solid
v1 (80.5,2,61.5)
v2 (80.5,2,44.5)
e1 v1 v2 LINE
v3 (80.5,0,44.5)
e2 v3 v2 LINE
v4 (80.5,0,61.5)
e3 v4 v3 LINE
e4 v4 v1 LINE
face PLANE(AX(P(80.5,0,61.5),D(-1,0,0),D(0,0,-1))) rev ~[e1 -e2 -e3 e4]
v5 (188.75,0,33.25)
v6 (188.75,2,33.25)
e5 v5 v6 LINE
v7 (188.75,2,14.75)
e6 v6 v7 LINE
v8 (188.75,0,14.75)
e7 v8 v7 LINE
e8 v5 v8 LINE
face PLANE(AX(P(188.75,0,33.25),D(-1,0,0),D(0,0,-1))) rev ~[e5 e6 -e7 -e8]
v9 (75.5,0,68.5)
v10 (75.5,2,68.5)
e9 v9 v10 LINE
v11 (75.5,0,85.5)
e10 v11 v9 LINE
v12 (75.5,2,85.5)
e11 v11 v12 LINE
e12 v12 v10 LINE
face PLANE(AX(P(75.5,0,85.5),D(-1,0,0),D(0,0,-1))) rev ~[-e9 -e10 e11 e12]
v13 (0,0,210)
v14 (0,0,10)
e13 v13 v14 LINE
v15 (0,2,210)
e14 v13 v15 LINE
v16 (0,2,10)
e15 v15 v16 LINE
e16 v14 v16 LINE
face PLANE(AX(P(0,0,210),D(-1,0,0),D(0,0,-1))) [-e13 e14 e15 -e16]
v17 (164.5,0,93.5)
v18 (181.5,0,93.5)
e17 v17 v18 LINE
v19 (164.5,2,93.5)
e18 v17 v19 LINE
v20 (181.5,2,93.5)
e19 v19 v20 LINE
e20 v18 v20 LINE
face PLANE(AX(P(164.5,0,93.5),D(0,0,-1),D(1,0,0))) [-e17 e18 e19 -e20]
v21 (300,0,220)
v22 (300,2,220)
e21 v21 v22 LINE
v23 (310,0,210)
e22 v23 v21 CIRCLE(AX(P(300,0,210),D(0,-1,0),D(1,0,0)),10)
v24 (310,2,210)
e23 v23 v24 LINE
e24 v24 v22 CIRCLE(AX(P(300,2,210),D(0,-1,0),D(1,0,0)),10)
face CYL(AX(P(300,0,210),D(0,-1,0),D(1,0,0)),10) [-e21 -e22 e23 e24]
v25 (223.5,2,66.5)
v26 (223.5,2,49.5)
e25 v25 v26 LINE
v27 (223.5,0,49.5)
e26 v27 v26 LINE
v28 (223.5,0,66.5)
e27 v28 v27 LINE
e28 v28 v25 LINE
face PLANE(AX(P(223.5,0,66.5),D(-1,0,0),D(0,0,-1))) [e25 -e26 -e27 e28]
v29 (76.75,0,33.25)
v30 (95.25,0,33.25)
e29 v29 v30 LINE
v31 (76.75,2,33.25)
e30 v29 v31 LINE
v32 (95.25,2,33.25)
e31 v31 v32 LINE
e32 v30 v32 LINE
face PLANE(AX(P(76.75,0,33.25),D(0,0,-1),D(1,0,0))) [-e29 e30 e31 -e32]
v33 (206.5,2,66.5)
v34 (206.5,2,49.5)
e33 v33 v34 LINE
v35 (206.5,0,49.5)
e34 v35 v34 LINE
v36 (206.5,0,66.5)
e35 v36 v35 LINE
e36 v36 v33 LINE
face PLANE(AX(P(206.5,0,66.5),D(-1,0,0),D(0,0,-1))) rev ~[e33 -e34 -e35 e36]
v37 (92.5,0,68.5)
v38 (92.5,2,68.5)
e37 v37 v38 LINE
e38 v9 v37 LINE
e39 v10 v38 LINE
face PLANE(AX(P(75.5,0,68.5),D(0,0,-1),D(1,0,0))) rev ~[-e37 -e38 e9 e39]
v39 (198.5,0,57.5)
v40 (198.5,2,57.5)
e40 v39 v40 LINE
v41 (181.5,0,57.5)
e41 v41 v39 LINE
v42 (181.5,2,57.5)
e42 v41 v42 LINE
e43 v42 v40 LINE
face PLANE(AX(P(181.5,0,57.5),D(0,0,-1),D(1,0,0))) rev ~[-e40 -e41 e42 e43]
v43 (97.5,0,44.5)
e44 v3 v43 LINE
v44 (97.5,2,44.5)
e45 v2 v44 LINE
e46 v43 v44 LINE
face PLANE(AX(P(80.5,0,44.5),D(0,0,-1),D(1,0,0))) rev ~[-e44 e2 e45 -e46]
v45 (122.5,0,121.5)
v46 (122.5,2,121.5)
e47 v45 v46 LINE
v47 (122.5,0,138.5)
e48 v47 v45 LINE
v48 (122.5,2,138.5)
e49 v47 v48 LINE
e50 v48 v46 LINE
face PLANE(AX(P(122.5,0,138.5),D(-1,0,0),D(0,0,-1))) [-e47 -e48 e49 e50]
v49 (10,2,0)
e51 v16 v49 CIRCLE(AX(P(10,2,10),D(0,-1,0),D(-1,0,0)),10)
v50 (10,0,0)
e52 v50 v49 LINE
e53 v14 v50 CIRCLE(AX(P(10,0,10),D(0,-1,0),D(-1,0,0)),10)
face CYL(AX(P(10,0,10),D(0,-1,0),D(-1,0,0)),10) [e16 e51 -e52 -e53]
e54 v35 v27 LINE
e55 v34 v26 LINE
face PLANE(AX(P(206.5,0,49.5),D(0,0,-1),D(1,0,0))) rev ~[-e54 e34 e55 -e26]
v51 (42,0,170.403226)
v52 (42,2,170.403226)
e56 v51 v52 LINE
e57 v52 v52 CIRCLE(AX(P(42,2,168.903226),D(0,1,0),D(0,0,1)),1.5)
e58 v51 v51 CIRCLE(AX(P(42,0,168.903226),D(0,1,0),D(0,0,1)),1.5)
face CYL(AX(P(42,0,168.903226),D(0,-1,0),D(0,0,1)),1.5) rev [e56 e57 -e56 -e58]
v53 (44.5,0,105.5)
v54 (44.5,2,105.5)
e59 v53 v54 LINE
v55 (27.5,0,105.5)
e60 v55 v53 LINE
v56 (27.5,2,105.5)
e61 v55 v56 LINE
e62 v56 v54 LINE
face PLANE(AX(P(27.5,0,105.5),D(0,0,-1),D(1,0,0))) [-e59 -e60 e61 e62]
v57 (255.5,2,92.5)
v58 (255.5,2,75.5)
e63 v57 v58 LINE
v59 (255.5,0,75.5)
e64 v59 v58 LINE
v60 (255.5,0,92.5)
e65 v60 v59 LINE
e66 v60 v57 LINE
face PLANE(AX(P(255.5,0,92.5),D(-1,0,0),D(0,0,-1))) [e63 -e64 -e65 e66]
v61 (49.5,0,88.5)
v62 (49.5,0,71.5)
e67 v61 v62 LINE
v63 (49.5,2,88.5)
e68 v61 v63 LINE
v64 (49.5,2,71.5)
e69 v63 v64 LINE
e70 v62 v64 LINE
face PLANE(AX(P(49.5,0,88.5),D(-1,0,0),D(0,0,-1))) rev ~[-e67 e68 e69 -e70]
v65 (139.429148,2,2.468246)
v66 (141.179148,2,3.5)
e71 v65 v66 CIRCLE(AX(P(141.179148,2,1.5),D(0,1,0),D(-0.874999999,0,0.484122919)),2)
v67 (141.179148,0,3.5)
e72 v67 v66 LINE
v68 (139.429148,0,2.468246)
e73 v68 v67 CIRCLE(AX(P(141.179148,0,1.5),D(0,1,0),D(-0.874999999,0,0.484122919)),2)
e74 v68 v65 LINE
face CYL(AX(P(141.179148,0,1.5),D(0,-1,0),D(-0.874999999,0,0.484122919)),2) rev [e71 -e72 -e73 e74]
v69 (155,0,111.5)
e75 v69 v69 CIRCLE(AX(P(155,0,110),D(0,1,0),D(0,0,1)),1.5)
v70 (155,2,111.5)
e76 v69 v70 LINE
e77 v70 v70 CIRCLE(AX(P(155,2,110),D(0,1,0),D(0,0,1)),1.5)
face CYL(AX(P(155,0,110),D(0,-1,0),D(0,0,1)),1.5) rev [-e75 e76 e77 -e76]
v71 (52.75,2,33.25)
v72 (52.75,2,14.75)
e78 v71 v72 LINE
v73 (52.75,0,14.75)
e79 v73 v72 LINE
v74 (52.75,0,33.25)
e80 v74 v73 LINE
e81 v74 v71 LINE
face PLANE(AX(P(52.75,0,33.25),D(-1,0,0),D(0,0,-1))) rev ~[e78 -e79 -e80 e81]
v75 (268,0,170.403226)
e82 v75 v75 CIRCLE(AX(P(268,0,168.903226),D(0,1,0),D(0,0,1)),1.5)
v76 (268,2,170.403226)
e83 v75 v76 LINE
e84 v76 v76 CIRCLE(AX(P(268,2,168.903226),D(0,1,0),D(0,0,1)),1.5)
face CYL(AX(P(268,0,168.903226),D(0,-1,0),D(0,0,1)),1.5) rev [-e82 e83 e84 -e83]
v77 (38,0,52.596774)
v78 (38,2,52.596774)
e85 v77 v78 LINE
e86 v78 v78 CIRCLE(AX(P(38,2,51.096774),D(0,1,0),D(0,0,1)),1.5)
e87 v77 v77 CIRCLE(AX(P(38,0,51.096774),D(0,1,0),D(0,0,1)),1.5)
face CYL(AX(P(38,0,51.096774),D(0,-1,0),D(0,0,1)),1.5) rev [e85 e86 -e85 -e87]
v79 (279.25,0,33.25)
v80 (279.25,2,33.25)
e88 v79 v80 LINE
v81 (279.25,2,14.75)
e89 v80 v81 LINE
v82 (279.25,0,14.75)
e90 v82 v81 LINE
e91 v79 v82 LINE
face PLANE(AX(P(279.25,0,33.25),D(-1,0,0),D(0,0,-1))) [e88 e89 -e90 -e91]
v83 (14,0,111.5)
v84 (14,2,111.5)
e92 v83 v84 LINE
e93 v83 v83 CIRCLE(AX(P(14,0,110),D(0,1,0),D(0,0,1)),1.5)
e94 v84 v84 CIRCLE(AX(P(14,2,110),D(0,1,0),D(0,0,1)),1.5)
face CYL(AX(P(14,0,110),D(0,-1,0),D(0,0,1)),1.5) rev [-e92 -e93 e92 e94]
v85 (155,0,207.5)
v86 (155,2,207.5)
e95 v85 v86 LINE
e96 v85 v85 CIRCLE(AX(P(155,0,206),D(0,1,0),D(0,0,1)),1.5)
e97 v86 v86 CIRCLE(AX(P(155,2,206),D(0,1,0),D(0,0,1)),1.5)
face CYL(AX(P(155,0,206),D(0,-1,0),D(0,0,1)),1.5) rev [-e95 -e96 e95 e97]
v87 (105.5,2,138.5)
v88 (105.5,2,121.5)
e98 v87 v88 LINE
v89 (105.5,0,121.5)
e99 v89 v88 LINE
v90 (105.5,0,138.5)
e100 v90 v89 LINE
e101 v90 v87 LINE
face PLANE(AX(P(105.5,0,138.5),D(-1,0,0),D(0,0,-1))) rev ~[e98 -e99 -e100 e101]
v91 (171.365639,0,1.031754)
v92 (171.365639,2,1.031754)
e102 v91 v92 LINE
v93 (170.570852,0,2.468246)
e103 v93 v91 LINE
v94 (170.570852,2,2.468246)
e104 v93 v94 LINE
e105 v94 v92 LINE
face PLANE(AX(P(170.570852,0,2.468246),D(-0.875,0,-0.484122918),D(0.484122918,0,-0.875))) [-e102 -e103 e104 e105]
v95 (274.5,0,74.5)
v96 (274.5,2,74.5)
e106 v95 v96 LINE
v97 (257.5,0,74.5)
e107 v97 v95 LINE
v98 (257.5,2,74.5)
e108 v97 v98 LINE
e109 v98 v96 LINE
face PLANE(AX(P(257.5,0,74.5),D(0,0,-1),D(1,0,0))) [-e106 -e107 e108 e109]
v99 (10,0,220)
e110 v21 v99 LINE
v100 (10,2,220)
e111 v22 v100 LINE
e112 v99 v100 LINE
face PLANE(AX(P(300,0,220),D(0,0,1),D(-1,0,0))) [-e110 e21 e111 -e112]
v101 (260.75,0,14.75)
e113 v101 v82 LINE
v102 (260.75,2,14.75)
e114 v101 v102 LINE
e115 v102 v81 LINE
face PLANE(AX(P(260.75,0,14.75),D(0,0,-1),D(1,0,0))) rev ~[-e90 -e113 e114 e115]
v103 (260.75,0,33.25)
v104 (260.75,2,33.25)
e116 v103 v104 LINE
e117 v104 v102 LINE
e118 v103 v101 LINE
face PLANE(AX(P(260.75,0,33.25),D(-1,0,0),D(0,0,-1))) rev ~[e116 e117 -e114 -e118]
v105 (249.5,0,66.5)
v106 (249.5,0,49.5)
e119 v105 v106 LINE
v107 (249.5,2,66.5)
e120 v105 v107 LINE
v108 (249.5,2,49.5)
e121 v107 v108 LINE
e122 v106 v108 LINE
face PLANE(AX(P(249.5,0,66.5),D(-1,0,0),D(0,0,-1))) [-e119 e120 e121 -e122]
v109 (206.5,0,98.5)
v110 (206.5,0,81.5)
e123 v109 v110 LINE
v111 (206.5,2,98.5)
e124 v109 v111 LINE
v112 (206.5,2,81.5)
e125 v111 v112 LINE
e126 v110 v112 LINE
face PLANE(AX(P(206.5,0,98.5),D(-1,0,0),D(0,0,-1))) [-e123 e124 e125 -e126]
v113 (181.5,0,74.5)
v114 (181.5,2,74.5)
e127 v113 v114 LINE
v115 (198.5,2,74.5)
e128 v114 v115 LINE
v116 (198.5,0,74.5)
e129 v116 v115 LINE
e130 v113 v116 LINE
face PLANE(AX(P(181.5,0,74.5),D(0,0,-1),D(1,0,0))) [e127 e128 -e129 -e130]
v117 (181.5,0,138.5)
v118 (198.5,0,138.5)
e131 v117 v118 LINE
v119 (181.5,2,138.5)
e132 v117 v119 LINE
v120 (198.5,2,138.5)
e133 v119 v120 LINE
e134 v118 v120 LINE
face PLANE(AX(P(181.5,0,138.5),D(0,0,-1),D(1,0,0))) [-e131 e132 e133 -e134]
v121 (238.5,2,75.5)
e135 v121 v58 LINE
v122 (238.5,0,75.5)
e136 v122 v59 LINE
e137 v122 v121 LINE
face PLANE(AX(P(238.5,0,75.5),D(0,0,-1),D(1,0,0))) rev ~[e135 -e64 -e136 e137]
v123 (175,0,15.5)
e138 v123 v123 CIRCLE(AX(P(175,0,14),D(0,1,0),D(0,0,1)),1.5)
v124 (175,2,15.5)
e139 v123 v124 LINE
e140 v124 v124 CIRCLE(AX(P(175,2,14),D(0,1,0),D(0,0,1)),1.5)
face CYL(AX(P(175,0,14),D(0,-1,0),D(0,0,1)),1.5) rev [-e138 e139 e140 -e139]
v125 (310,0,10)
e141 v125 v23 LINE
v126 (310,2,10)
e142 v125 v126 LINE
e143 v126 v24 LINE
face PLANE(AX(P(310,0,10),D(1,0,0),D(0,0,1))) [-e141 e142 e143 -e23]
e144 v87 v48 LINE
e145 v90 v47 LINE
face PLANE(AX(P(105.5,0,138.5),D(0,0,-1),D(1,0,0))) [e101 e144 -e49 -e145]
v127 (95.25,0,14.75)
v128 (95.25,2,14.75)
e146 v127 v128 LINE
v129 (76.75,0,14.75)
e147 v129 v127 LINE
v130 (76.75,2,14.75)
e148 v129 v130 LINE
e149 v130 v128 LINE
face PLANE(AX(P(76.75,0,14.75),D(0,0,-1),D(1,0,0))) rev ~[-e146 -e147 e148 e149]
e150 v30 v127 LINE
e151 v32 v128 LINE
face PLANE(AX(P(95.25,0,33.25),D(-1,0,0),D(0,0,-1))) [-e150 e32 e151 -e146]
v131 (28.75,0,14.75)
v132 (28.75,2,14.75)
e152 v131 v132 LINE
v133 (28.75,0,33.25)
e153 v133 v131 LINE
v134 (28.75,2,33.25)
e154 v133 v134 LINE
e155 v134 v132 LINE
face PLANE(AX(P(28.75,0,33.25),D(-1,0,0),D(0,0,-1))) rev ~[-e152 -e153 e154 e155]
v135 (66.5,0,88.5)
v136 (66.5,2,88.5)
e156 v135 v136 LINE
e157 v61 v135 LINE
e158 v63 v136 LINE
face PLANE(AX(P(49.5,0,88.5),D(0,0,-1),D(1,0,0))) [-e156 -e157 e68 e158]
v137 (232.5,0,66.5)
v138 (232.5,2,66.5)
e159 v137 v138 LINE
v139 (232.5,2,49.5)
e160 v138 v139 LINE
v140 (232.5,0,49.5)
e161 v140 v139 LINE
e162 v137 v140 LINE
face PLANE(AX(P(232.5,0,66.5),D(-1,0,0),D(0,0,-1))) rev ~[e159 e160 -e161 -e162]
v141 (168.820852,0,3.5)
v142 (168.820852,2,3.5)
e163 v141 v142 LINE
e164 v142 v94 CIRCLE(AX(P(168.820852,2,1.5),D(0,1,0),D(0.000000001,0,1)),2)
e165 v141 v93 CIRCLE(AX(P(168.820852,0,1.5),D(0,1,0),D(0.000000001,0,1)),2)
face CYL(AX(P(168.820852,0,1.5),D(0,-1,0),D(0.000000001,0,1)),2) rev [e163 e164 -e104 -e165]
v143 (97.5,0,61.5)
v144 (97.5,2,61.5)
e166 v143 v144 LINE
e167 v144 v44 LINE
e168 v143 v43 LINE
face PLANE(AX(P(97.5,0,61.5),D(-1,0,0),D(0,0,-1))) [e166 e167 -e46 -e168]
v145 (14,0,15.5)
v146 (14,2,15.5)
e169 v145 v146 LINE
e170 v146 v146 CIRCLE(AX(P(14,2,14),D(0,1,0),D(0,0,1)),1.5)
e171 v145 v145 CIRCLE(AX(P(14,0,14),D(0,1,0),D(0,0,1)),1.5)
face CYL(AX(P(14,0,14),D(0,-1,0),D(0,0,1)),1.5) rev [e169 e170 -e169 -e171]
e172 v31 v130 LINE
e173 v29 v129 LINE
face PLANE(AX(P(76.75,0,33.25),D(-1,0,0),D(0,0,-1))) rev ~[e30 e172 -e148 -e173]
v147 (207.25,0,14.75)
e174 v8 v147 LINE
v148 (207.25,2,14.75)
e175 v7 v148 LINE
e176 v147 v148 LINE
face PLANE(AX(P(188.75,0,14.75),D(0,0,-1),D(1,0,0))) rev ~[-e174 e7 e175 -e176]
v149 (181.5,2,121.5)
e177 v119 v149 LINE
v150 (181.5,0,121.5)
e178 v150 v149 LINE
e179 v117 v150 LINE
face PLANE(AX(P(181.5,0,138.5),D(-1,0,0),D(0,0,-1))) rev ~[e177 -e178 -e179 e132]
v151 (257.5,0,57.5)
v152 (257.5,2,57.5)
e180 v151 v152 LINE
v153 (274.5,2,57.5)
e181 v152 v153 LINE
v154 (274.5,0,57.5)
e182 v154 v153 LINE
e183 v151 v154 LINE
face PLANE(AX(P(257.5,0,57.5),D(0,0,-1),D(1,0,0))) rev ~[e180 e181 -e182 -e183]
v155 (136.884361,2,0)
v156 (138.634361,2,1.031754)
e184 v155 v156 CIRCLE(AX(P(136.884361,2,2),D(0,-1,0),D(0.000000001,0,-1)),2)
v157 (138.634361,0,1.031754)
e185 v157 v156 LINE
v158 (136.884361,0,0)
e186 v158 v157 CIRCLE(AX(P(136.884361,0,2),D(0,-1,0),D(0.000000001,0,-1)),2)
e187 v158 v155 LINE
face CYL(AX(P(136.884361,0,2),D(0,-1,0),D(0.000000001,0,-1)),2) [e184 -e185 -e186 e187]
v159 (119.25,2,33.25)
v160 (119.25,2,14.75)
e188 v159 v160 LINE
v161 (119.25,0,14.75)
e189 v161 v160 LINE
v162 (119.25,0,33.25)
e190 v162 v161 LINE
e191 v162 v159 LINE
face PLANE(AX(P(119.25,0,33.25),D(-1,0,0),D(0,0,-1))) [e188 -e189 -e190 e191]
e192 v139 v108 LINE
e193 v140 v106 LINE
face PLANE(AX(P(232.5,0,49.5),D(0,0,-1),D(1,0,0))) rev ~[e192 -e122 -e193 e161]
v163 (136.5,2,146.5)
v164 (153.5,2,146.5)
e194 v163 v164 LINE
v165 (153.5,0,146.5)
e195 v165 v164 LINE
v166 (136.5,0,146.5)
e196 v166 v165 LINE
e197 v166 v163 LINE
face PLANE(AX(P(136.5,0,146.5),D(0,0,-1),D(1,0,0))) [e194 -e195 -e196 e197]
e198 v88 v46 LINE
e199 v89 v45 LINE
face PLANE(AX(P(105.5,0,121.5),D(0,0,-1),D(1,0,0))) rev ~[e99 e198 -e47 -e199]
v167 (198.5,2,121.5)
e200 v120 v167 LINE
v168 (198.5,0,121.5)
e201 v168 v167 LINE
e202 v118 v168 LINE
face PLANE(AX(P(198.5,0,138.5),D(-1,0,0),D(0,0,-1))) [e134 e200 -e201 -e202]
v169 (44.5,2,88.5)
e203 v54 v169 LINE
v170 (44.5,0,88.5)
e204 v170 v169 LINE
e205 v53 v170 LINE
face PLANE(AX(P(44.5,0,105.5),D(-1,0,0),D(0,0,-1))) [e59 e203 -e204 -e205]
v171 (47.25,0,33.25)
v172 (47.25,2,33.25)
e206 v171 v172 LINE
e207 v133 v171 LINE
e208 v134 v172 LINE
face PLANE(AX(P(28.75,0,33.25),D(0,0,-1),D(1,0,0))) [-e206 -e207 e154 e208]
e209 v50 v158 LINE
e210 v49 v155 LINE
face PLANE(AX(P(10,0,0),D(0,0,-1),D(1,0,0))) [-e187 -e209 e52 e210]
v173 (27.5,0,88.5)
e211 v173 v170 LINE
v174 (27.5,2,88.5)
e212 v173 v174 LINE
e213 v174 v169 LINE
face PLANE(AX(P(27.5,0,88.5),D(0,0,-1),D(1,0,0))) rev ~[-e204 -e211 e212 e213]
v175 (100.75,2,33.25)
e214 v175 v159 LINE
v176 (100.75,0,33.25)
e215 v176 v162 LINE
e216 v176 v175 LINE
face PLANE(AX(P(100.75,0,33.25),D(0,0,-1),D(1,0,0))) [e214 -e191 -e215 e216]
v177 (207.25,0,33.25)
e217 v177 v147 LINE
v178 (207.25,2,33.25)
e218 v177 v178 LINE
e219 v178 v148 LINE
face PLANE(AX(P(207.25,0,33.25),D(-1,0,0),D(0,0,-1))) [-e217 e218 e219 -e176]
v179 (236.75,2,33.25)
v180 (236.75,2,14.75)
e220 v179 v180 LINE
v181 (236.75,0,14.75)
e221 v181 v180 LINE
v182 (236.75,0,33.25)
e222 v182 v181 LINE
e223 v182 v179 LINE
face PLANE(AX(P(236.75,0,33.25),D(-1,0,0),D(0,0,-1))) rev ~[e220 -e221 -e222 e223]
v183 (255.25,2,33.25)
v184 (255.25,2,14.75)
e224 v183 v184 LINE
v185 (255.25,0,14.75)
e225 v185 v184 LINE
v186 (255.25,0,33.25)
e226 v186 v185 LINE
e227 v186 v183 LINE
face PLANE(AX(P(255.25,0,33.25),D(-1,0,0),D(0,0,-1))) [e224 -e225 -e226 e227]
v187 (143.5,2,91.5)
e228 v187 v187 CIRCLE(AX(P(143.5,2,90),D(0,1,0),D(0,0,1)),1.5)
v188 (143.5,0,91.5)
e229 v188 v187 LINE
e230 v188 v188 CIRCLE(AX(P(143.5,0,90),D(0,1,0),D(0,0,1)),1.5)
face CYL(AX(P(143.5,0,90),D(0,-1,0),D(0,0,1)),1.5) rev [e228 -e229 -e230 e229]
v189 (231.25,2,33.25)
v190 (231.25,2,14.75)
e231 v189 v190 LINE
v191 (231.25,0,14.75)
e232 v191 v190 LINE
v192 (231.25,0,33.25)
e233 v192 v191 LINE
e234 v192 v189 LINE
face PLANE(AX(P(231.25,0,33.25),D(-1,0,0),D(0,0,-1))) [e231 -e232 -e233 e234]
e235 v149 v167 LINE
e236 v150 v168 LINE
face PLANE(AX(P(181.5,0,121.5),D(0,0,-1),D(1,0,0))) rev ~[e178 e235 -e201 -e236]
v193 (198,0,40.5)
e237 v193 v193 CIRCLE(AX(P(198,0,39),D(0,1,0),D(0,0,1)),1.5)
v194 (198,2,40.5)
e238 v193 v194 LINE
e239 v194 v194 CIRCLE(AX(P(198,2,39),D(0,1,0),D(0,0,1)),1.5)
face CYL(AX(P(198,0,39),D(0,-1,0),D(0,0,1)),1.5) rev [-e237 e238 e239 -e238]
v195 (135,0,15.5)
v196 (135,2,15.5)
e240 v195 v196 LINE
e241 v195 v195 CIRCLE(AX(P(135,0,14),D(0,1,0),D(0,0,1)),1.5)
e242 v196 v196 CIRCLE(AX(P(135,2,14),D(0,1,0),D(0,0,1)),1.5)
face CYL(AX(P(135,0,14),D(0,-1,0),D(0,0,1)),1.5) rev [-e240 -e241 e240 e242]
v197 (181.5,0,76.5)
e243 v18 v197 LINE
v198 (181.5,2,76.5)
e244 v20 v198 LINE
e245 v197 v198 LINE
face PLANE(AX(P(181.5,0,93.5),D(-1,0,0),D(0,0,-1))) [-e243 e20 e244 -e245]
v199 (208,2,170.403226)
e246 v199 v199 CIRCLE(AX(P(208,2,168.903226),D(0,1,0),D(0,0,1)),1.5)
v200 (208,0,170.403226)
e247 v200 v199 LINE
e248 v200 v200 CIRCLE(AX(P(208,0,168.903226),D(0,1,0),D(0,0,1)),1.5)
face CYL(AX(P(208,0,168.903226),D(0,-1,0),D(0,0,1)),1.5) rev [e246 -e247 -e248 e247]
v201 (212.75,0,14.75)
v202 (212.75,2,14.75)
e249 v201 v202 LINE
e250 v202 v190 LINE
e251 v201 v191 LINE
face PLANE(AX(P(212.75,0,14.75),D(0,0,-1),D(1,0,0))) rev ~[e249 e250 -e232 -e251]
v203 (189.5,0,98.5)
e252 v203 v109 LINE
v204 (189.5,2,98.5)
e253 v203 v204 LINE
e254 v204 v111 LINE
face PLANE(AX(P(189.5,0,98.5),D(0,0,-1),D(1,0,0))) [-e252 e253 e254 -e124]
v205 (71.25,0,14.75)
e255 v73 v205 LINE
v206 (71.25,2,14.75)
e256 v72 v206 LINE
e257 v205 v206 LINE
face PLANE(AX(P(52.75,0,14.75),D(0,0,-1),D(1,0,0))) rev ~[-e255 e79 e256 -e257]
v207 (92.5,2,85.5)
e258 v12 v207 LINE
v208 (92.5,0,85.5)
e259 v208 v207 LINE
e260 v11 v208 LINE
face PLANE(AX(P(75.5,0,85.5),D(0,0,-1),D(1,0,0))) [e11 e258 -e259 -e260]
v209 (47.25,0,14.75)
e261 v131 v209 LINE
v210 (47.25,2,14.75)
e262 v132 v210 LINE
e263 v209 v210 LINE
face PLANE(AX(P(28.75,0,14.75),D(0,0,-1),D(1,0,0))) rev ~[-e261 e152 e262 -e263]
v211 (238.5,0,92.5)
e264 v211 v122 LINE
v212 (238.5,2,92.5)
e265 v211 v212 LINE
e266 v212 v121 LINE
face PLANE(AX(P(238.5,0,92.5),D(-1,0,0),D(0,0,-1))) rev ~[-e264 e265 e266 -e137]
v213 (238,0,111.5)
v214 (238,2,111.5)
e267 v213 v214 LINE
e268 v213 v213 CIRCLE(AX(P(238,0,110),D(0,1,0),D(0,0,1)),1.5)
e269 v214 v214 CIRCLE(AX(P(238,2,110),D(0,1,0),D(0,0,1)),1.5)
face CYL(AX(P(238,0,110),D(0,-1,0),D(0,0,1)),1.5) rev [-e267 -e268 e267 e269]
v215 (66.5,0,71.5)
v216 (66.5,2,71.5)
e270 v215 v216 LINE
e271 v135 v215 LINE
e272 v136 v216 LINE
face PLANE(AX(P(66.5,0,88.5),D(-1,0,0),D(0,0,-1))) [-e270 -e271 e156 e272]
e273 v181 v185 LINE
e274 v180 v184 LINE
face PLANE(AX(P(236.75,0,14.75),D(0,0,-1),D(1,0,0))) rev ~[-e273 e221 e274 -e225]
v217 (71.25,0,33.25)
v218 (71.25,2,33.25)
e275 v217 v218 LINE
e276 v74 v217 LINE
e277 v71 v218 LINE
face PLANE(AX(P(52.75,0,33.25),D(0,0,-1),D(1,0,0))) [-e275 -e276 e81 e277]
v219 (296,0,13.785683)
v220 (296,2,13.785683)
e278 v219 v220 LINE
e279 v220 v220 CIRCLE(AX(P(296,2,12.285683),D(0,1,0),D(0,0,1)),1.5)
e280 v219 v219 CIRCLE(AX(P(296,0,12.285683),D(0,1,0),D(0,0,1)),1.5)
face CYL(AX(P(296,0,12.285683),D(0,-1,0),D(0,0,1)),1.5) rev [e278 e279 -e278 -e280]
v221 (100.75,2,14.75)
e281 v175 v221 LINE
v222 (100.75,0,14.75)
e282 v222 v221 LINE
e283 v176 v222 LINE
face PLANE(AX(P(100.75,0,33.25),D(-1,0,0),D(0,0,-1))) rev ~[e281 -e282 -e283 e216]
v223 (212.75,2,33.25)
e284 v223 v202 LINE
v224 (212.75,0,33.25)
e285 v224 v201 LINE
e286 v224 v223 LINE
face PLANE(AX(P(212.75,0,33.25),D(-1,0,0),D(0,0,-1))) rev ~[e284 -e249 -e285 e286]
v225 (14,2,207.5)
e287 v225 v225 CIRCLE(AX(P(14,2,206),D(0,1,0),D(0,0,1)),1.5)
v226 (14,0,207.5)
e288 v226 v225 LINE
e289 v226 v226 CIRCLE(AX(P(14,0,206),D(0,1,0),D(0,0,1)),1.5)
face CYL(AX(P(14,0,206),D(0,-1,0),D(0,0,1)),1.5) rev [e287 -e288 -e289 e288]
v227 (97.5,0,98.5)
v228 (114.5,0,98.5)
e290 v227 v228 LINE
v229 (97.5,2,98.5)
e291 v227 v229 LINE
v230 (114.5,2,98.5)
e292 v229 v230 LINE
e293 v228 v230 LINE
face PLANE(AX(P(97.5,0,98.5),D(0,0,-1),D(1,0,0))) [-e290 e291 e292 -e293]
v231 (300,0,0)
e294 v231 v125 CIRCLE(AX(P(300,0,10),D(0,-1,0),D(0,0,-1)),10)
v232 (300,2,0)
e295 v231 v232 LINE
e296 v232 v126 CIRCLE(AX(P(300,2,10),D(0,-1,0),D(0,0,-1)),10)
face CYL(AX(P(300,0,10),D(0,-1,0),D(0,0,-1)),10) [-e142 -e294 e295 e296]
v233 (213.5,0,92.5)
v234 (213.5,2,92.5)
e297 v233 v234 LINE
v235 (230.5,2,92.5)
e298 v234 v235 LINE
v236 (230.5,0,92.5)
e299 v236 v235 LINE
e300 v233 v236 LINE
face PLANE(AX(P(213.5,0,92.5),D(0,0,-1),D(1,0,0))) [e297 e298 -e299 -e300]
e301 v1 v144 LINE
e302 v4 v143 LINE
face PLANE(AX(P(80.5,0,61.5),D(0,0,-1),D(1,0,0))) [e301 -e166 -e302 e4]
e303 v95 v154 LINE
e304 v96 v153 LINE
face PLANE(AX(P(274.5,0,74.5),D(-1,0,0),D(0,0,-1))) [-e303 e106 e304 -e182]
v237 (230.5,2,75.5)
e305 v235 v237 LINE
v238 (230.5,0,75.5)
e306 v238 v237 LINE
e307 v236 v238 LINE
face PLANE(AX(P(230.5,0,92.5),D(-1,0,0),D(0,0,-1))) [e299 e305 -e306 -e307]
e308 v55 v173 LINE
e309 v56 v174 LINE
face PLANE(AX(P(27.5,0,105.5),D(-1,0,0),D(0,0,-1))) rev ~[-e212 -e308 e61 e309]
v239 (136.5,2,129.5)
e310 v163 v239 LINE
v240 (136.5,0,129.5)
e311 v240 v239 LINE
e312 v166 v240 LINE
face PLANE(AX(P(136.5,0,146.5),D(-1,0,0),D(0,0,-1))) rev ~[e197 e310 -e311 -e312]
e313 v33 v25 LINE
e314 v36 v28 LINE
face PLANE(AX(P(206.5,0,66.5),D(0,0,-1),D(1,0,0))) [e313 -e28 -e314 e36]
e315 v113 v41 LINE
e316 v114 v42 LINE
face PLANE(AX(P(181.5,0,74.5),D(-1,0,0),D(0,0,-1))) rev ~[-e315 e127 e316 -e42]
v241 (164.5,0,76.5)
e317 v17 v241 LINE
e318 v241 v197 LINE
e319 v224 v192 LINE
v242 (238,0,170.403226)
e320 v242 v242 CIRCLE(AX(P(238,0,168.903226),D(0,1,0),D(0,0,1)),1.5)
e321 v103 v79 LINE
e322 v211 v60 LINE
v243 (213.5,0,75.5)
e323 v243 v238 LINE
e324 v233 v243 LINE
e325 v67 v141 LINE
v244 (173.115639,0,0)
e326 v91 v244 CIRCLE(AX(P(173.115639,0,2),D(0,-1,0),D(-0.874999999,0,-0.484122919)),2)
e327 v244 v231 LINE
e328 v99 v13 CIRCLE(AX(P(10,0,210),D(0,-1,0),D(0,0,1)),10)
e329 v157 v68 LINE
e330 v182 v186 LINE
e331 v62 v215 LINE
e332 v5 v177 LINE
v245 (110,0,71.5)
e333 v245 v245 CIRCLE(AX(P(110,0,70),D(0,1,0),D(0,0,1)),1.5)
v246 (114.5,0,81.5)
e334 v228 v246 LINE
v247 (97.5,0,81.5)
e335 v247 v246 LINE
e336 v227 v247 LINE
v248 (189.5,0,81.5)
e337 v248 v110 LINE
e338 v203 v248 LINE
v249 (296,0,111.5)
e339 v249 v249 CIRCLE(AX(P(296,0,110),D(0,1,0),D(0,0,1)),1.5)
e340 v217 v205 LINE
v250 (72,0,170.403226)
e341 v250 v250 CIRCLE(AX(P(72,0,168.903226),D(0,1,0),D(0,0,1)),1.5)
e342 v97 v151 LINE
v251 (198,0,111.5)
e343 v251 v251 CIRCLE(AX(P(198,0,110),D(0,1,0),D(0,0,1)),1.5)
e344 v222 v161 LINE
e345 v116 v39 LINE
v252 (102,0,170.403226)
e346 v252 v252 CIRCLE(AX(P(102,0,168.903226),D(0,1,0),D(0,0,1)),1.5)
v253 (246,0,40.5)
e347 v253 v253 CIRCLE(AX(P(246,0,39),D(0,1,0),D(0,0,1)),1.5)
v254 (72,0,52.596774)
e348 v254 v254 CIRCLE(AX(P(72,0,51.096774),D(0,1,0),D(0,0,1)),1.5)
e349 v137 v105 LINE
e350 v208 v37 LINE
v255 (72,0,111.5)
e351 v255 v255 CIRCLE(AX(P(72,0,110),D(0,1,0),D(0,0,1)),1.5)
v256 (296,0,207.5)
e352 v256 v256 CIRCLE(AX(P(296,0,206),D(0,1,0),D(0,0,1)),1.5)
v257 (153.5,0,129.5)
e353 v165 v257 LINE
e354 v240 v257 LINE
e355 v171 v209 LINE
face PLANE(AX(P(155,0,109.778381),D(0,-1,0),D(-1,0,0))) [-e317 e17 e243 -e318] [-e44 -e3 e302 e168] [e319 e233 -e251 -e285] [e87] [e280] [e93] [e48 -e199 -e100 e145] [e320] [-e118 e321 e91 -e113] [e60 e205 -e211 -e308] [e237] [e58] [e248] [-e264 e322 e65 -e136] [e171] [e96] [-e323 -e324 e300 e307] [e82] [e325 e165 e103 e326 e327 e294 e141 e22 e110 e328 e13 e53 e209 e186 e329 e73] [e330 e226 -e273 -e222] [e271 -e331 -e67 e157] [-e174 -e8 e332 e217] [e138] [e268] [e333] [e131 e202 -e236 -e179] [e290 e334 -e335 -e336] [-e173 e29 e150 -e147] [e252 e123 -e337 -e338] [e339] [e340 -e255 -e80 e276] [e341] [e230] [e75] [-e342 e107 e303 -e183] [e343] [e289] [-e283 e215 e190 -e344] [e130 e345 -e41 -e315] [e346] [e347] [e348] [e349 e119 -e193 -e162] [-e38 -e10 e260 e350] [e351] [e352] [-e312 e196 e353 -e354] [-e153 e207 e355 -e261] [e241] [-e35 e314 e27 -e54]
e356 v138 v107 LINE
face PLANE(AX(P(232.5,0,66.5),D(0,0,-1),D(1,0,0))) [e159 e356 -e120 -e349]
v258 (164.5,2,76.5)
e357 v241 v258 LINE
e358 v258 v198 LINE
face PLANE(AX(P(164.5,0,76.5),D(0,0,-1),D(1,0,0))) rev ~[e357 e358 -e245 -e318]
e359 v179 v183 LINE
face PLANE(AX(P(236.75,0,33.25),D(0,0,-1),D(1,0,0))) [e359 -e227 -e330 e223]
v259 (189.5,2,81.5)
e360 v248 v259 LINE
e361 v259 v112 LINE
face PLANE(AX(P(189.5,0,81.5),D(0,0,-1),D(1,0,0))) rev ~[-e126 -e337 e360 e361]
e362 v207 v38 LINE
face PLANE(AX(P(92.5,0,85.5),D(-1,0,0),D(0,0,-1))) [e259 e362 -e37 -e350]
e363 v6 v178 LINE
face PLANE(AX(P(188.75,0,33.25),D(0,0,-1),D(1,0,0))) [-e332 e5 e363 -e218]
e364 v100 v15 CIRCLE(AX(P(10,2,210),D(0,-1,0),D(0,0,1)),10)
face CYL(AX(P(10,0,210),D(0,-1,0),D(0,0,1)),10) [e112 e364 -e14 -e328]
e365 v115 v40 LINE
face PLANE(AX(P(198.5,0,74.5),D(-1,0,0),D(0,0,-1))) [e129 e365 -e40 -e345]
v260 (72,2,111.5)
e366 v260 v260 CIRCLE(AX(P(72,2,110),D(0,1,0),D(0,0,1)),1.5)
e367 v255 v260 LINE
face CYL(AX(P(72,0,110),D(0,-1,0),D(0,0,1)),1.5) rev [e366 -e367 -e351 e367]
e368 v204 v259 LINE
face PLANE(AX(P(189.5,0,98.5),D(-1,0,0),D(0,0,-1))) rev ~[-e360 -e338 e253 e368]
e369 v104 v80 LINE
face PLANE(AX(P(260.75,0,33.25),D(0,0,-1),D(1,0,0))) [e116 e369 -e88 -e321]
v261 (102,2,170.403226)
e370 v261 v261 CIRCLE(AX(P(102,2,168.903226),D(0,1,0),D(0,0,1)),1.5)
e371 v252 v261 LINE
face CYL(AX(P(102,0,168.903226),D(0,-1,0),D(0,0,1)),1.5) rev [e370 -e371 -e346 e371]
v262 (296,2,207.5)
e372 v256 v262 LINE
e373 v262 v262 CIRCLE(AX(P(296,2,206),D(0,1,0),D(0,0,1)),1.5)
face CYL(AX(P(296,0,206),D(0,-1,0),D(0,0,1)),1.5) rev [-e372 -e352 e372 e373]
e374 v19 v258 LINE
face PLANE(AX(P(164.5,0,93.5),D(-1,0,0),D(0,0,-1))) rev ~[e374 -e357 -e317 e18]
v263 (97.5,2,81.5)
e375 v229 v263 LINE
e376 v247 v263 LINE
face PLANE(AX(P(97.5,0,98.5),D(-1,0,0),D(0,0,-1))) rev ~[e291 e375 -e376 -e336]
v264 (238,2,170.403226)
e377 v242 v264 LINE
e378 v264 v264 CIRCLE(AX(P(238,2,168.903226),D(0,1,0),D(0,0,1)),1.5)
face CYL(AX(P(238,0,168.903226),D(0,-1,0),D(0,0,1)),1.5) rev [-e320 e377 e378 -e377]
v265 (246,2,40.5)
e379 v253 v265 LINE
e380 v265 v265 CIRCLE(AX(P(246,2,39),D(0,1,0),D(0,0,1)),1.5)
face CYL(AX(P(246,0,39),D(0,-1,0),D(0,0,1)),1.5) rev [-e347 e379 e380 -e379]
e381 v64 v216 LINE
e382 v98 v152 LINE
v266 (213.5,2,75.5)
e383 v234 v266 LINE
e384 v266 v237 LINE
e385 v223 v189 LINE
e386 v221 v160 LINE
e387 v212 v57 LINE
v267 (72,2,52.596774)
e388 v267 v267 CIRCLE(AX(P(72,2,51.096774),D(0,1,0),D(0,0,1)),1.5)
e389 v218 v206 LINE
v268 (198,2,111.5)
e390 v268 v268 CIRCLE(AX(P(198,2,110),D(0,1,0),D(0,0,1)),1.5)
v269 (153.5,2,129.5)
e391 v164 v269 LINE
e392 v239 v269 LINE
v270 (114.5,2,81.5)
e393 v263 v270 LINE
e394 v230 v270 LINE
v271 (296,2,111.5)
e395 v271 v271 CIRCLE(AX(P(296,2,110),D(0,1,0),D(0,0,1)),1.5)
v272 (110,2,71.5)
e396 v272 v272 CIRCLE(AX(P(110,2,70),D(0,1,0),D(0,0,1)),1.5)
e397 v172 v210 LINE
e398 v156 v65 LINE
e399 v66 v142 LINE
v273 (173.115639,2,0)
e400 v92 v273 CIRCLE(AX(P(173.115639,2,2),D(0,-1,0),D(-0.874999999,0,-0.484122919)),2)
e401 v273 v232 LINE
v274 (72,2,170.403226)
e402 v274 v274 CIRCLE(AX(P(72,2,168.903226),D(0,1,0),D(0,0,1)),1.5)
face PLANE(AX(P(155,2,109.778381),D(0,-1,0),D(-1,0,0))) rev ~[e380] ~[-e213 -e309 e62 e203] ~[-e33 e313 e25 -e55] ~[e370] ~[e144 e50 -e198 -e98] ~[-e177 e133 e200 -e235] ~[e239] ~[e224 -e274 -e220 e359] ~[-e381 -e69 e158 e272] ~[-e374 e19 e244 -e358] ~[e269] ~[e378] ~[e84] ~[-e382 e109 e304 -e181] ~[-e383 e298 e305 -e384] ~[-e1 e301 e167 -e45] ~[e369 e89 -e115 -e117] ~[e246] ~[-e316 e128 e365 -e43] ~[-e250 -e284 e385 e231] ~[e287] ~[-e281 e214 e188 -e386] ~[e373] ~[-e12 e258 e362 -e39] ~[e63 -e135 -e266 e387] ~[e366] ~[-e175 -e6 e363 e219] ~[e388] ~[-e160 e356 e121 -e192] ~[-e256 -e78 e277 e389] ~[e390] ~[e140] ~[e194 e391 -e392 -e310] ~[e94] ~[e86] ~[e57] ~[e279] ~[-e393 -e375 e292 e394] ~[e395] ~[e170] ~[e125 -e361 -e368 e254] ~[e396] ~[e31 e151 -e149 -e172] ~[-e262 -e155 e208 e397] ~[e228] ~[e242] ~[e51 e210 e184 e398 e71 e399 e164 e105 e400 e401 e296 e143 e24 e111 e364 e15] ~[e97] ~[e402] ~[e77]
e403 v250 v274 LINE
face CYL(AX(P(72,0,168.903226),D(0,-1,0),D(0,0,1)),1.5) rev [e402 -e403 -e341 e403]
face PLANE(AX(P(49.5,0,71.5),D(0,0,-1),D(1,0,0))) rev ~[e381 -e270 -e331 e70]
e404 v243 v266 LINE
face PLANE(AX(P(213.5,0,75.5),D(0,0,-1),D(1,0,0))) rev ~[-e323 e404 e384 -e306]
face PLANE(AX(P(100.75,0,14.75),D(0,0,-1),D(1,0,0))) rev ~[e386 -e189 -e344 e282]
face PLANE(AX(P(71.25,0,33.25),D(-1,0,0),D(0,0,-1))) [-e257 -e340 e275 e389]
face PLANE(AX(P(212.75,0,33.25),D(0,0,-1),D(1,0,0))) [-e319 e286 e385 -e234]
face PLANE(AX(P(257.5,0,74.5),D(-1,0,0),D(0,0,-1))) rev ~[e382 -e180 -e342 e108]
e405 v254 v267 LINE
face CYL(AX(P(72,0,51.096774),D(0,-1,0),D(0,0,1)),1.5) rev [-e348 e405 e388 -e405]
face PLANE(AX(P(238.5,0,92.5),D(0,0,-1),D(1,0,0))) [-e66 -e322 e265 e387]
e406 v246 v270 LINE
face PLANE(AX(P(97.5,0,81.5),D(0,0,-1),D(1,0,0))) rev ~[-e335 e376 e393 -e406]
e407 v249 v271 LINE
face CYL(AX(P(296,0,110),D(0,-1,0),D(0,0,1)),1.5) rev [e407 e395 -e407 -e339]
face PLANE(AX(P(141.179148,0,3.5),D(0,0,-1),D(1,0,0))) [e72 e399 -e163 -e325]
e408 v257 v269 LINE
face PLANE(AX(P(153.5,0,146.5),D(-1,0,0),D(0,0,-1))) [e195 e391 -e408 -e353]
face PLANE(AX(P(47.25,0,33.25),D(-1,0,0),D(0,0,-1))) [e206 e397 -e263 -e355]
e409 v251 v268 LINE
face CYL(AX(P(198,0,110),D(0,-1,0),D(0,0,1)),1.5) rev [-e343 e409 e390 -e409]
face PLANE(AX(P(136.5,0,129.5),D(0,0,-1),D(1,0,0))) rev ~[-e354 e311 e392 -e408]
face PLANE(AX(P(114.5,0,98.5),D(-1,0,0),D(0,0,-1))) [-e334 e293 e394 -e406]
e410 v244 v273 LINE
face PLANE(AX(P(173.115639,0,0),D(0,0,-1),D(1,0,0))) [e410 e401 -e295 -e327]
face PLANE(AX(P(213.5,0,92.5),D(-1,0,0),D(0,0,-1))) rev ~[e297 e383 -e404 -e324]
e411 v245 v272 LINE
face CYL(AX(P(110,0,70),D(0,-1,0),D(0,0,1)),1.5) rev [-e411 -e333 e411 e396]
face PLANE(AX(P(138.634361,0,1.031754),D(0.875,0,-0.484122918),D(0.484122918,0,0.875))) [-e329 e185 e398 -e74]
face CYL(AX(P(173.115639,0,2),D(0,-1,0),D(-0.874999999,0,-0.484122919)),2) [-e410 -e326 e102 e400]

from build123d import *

# Parameters (mm, degrees)
SKETCH_1_R      = 1.5
SKETCH_1_W      = 18.5
SKETCH_1_H      = 18.5
SKETCH_1_W_2    = 17
SKETCH_1_H_2    = 17
EXTRUDE_1_DEPTH = 2


with BuildPart() as part:
    # 草图1 → 凸台-拉伸1 (new body)
    with BuildSketch(Plane(origin=(0, 0, 0), x_dir=(1, 0, 0), z_dir=(0, 1, 0))):
        with BuildLine():
            Line((10, 0), (136.884360712, 0))
            ThreePointArc((136.884360712, 0), (137.900113715, -0.277140216), (138.634360712, -1.031754163))
            Line((138.634360712, -1.031754163), (139.429147615, -2.468245837))
            ThreePointArc((139.429147615, -2.468245837), (140.163394612, -3.222859784), (141.179147615, -3.5))
            Line((141.179147615, -3.5), (143.5, -3.5))
            Line((143.5, -3.5), (166.5, -3.5))
            Line((166.5, -3.5), (168.820852385, -3.5))
            ThreePointArc((168.820852385, -3.5), (169.836605388, -3.222859784), (170.570852385, -2.468245837))
            Line((170.570852385, -2.468245837), (171.365639288, -1.031754163))
            ThreePointArc((171.365639288, -1.031754163), (172.099886285, -0.277140216), (173.115639288, 0))
            Line((173.115639288, 0), (300, 0))
            ThreePointArc((300, 0), (307.071067812, -2.928932188), (310, -10))
            Line((310, -10), (310, -210))
            ThreePointArc((310, -210), (307.071067812, -217.071067812), (300, -220))
            Line((300, -220), (10, -220))
            ThreePointArc((10, -220), (2.928932188, -217.071067812), (0, -210))
            Line((0, -210), (0, -10))
            ThreePointArc((0, -10), (2.928932188, -2.928932188), (10, 0))
        make_face()
        with Locations(Location((14, -14, 0), (0, 0, 270))):
            Circle(SKETCH_1_R, mode=Mode.SUBTRACT)
        with Locations(Location((14, -206, 0), (0, 0, 270))):
            Circle(SKETCH_1_R, mode=Mode.SUBTRACT)
        with Locations(Location((296, -206, 0), (0, 0, 270))):
            Circle(SKETCH_1_R, mode=Mode.SUBTRACT)
        with Locations(Location((296, -12.28568254, 0), (0, 0, 270))):
            Circle(SKETCH_1_R, mode=Mode.SUBTRACT)
        with Locations(Location((155, -206, 0), (0, 0, 270))):
            Circle(SKETCH_1_R, mode=Mode.SUBTRACT)
        with Locations(Location((175, -14, 0), (0, 0, 270))):
            Circle(SKETCH_1_R, mode=Mode.SUBTRACT)
        with Locations(Location((135, -14, 0), (0, 0, 270))):
            Circle(SKETCH_1_R, mode=Mode.SUBTRACT)
        with Locations(Location((296, -110, 0), (0, 0, 270))):
            Circle(SKETCH_1_R, mode=Mode.SUBTRACT)
        with Locations(Location((14, -110, 0), (0, 0, 270))):
            Circle(SKETCH_1_R, mode=Mode.SUBTRACT)
        with Locations(Location((155, -110, 0), (0, 0, 270))):
            Circle(SKETCH_1_R, mode=Mode.SUBTRACT)
        with Locations(Location((72, -110, 0), (0, 0, 270))):
            Circle(SKETCH_1_R, mode=Mode.SUBTRACT)
        with Locations(Location((72, -168.903225806, 0), (0, 0, 270))):
            Circle(SKETCH_1_R, mode=Mode.SUBTRACT)
        with Locations(Location((72, -51.096774194, 0), (0, 0, 270))):
            Circle(SKETCH_1_R, mode=Mode.SUBTRACT)
        with Locations(Location((42, -168.903225806, 0), (0, 0, 270))):
            Circle(SKETCH_1_R, mode=Mode.SUBTRACT)
        with Locations(Location((102, -168.903225806, 0), (0, 0, 270))):
            Circle(SKETCH_1_R, mode=Mode.SUBTRACT)
        with Locations(Location((238, -110, 0), (0, 0, 270))):
            Circle(SKETCH_1_R, mode=Mode.SUBTRACT)
        with Locations(Location((238, -168.903225806, 0), (0, 0, 270))):
            Circle(SKETCH_1_R, mode=Mode.SUBTRACT)
        with Locations(Location((268, -168.903225806, 0), (0, 0, 270))):
            Circle(SKETCH_1_R, mode=Mode.SUBTRACT)
        with Locations(Location((208, -168.903225806, 0), (0, 0, 270))):
            Circle(SKETCH_1_R, mode=Mode.SUBTRACT)
        with Locations(Location((246, -39, 0), (0, 0, 270))):
            Circle(SKETCH_1_R, mode=Mode.SUBTRACT)
        with Locations(Location((198, -39, 0), (0, 0, 270))):
            Circle(SKETCH_1_R, mode=Mode.SUBTRACT)
        with Locations(Location((110, -70, 0), (0, 0, 270))):
            Circle(SKETCH_1_R, mode=Mode.SUBTRACT)
        with Locations(Location((38, -51.096774194, 0), (0, 0, 270))):
            Circle(SKETCH_1_R, mode=Mode.SUBTRACT)
        with Locations(Location((198, -110, 0), (0, 0, 270))):
            Circle(SKETCH_1_R, mode=Mode.SUBTRACT)
        with Locations(Location((143.5, -90, 0), (0, 0, 270))):
            Circle(SKETCH_1_R, mode=Mode.SUBTRACT)
        with Locations((38, -24)):
            Rectangle(SKETCH_1_W, SKETCH_1_H, mode=Mode.SUBTRACT)
        with Locations((62, -24)):
            Rectangle(SKETCH_1_W, SKETCH_1_H, mode=Mode.SUBTRACT)
        with Locations((86, -24)):
            Rectangle(SKETCH_1_W, SKETCH_1_H, mode=Mode.SUBTRACT)
        with Locations((110, -24)):
            Rectangle(SKETCH_1_W, SKETCH_1_H, mode=Mode.SUBTRACT)
        with Locations((198, -24)):
            Rectangle(SKETCH_1_W, SKETCH_1_H, mode=Mode.SUBTRACT)
        with Locations((222, -24)):
            Rectangle(SKETCH_1_W, SKETCH_1_H, mode=Mode.SUBTRACT)
        with Locations((246, -24)):
            Rectangle(SKETCH_1_W, SKETCH_1_H, mode=Mode.SUBTRACT)
        with Locations((270, -24)):
            Rectangle(SKETCH_1_W, SKETCH_1_H, mode=Mode.SUBTRACT)
        with Locations((89, -53)):
            Rectangle(SKETCH_1_W_2, SKETCH_1_H_2, mode=Mode.SUBTRACT)
        with Locations((84, -77)):
            Rectangle(SKETCH_1_W_2, SKETCH_1_H_2, mode=Mode.SUBTRACT)
        with Locations((106, -90)):
            Rectangle(SKETCH_1_W_2, SKETCH_1_H_2, mode=Mode.SUBTRACT)
        with Locations((58, -80)):
            Rectangle(SKETCH_1_W_2, SKETCH_1_H_2, mode=Mode.SUBTRACT)
        with Locations((36, -97)):
            Rectangle(SKETCH_1_W_2, SKETCH_1_H_2, mode=Mode.SUBTRACT)
        with Locations((114, -130)):
            Rectangle(SKETCH_1_W_2, SKETCH_1_H_2, mode=Mode.SUBTRACT)
        with Locations((145, -138)):
            Rectangle(SKETCH_1_W_2, SKETCH_1_H_2, mode=Mode.SUBTRACT)
        with Locations((190, -130)):
            Rectangle(SKETCH_1_W_2, SKETCH_1_H_2, mode=Mode.SUBTRACT)
        with Locations((173, -85)):
            Rectangle(SKETCH_1_W_2, SKETCH_1_H_2, mode=Mode.SUBTRACT)
        with Locations((190, -66)):
            Rectangle(SKETCH_1_W_2, SKETCH_1_H_2, mode=Mode.SUBTRACT)
        with Locations((198, -90)):
            Rectangle(SKETCH_1_W_2, SKETCH_1_H_2, mode=Mode.SUBTRACT)
        with Locations((215, -58)):
            Rectangle(SKETCH_1_W_2, SKETCH_1_H_2, mode=Mode.SUBTRACT)
        with Locations((222, -84)):
            Rectangle(SKETCH_1_W_2, SKETCH_1_H_2, mode=Mode.SUBTRACT)
        with Locations((241, -58)):
            Rectangle(SKETCH_1_W_2, SKETCH_1_H_2, mode=Mode.SUBTRACT)
        with Locations((247, -84)):
            Rectangle(SKETCH_1_W_2, SKETCH_1_H_2, mode=Mode.SUBTRACT)
        with Locations((266, -66)):
            Rectangle(SKETCH_1_W_2, SKETCH_1_H_2, mode=Mode.SUBTRACT)
    extrude(amount=EXTRUDE_1_DEPTH)


solid = part.part
